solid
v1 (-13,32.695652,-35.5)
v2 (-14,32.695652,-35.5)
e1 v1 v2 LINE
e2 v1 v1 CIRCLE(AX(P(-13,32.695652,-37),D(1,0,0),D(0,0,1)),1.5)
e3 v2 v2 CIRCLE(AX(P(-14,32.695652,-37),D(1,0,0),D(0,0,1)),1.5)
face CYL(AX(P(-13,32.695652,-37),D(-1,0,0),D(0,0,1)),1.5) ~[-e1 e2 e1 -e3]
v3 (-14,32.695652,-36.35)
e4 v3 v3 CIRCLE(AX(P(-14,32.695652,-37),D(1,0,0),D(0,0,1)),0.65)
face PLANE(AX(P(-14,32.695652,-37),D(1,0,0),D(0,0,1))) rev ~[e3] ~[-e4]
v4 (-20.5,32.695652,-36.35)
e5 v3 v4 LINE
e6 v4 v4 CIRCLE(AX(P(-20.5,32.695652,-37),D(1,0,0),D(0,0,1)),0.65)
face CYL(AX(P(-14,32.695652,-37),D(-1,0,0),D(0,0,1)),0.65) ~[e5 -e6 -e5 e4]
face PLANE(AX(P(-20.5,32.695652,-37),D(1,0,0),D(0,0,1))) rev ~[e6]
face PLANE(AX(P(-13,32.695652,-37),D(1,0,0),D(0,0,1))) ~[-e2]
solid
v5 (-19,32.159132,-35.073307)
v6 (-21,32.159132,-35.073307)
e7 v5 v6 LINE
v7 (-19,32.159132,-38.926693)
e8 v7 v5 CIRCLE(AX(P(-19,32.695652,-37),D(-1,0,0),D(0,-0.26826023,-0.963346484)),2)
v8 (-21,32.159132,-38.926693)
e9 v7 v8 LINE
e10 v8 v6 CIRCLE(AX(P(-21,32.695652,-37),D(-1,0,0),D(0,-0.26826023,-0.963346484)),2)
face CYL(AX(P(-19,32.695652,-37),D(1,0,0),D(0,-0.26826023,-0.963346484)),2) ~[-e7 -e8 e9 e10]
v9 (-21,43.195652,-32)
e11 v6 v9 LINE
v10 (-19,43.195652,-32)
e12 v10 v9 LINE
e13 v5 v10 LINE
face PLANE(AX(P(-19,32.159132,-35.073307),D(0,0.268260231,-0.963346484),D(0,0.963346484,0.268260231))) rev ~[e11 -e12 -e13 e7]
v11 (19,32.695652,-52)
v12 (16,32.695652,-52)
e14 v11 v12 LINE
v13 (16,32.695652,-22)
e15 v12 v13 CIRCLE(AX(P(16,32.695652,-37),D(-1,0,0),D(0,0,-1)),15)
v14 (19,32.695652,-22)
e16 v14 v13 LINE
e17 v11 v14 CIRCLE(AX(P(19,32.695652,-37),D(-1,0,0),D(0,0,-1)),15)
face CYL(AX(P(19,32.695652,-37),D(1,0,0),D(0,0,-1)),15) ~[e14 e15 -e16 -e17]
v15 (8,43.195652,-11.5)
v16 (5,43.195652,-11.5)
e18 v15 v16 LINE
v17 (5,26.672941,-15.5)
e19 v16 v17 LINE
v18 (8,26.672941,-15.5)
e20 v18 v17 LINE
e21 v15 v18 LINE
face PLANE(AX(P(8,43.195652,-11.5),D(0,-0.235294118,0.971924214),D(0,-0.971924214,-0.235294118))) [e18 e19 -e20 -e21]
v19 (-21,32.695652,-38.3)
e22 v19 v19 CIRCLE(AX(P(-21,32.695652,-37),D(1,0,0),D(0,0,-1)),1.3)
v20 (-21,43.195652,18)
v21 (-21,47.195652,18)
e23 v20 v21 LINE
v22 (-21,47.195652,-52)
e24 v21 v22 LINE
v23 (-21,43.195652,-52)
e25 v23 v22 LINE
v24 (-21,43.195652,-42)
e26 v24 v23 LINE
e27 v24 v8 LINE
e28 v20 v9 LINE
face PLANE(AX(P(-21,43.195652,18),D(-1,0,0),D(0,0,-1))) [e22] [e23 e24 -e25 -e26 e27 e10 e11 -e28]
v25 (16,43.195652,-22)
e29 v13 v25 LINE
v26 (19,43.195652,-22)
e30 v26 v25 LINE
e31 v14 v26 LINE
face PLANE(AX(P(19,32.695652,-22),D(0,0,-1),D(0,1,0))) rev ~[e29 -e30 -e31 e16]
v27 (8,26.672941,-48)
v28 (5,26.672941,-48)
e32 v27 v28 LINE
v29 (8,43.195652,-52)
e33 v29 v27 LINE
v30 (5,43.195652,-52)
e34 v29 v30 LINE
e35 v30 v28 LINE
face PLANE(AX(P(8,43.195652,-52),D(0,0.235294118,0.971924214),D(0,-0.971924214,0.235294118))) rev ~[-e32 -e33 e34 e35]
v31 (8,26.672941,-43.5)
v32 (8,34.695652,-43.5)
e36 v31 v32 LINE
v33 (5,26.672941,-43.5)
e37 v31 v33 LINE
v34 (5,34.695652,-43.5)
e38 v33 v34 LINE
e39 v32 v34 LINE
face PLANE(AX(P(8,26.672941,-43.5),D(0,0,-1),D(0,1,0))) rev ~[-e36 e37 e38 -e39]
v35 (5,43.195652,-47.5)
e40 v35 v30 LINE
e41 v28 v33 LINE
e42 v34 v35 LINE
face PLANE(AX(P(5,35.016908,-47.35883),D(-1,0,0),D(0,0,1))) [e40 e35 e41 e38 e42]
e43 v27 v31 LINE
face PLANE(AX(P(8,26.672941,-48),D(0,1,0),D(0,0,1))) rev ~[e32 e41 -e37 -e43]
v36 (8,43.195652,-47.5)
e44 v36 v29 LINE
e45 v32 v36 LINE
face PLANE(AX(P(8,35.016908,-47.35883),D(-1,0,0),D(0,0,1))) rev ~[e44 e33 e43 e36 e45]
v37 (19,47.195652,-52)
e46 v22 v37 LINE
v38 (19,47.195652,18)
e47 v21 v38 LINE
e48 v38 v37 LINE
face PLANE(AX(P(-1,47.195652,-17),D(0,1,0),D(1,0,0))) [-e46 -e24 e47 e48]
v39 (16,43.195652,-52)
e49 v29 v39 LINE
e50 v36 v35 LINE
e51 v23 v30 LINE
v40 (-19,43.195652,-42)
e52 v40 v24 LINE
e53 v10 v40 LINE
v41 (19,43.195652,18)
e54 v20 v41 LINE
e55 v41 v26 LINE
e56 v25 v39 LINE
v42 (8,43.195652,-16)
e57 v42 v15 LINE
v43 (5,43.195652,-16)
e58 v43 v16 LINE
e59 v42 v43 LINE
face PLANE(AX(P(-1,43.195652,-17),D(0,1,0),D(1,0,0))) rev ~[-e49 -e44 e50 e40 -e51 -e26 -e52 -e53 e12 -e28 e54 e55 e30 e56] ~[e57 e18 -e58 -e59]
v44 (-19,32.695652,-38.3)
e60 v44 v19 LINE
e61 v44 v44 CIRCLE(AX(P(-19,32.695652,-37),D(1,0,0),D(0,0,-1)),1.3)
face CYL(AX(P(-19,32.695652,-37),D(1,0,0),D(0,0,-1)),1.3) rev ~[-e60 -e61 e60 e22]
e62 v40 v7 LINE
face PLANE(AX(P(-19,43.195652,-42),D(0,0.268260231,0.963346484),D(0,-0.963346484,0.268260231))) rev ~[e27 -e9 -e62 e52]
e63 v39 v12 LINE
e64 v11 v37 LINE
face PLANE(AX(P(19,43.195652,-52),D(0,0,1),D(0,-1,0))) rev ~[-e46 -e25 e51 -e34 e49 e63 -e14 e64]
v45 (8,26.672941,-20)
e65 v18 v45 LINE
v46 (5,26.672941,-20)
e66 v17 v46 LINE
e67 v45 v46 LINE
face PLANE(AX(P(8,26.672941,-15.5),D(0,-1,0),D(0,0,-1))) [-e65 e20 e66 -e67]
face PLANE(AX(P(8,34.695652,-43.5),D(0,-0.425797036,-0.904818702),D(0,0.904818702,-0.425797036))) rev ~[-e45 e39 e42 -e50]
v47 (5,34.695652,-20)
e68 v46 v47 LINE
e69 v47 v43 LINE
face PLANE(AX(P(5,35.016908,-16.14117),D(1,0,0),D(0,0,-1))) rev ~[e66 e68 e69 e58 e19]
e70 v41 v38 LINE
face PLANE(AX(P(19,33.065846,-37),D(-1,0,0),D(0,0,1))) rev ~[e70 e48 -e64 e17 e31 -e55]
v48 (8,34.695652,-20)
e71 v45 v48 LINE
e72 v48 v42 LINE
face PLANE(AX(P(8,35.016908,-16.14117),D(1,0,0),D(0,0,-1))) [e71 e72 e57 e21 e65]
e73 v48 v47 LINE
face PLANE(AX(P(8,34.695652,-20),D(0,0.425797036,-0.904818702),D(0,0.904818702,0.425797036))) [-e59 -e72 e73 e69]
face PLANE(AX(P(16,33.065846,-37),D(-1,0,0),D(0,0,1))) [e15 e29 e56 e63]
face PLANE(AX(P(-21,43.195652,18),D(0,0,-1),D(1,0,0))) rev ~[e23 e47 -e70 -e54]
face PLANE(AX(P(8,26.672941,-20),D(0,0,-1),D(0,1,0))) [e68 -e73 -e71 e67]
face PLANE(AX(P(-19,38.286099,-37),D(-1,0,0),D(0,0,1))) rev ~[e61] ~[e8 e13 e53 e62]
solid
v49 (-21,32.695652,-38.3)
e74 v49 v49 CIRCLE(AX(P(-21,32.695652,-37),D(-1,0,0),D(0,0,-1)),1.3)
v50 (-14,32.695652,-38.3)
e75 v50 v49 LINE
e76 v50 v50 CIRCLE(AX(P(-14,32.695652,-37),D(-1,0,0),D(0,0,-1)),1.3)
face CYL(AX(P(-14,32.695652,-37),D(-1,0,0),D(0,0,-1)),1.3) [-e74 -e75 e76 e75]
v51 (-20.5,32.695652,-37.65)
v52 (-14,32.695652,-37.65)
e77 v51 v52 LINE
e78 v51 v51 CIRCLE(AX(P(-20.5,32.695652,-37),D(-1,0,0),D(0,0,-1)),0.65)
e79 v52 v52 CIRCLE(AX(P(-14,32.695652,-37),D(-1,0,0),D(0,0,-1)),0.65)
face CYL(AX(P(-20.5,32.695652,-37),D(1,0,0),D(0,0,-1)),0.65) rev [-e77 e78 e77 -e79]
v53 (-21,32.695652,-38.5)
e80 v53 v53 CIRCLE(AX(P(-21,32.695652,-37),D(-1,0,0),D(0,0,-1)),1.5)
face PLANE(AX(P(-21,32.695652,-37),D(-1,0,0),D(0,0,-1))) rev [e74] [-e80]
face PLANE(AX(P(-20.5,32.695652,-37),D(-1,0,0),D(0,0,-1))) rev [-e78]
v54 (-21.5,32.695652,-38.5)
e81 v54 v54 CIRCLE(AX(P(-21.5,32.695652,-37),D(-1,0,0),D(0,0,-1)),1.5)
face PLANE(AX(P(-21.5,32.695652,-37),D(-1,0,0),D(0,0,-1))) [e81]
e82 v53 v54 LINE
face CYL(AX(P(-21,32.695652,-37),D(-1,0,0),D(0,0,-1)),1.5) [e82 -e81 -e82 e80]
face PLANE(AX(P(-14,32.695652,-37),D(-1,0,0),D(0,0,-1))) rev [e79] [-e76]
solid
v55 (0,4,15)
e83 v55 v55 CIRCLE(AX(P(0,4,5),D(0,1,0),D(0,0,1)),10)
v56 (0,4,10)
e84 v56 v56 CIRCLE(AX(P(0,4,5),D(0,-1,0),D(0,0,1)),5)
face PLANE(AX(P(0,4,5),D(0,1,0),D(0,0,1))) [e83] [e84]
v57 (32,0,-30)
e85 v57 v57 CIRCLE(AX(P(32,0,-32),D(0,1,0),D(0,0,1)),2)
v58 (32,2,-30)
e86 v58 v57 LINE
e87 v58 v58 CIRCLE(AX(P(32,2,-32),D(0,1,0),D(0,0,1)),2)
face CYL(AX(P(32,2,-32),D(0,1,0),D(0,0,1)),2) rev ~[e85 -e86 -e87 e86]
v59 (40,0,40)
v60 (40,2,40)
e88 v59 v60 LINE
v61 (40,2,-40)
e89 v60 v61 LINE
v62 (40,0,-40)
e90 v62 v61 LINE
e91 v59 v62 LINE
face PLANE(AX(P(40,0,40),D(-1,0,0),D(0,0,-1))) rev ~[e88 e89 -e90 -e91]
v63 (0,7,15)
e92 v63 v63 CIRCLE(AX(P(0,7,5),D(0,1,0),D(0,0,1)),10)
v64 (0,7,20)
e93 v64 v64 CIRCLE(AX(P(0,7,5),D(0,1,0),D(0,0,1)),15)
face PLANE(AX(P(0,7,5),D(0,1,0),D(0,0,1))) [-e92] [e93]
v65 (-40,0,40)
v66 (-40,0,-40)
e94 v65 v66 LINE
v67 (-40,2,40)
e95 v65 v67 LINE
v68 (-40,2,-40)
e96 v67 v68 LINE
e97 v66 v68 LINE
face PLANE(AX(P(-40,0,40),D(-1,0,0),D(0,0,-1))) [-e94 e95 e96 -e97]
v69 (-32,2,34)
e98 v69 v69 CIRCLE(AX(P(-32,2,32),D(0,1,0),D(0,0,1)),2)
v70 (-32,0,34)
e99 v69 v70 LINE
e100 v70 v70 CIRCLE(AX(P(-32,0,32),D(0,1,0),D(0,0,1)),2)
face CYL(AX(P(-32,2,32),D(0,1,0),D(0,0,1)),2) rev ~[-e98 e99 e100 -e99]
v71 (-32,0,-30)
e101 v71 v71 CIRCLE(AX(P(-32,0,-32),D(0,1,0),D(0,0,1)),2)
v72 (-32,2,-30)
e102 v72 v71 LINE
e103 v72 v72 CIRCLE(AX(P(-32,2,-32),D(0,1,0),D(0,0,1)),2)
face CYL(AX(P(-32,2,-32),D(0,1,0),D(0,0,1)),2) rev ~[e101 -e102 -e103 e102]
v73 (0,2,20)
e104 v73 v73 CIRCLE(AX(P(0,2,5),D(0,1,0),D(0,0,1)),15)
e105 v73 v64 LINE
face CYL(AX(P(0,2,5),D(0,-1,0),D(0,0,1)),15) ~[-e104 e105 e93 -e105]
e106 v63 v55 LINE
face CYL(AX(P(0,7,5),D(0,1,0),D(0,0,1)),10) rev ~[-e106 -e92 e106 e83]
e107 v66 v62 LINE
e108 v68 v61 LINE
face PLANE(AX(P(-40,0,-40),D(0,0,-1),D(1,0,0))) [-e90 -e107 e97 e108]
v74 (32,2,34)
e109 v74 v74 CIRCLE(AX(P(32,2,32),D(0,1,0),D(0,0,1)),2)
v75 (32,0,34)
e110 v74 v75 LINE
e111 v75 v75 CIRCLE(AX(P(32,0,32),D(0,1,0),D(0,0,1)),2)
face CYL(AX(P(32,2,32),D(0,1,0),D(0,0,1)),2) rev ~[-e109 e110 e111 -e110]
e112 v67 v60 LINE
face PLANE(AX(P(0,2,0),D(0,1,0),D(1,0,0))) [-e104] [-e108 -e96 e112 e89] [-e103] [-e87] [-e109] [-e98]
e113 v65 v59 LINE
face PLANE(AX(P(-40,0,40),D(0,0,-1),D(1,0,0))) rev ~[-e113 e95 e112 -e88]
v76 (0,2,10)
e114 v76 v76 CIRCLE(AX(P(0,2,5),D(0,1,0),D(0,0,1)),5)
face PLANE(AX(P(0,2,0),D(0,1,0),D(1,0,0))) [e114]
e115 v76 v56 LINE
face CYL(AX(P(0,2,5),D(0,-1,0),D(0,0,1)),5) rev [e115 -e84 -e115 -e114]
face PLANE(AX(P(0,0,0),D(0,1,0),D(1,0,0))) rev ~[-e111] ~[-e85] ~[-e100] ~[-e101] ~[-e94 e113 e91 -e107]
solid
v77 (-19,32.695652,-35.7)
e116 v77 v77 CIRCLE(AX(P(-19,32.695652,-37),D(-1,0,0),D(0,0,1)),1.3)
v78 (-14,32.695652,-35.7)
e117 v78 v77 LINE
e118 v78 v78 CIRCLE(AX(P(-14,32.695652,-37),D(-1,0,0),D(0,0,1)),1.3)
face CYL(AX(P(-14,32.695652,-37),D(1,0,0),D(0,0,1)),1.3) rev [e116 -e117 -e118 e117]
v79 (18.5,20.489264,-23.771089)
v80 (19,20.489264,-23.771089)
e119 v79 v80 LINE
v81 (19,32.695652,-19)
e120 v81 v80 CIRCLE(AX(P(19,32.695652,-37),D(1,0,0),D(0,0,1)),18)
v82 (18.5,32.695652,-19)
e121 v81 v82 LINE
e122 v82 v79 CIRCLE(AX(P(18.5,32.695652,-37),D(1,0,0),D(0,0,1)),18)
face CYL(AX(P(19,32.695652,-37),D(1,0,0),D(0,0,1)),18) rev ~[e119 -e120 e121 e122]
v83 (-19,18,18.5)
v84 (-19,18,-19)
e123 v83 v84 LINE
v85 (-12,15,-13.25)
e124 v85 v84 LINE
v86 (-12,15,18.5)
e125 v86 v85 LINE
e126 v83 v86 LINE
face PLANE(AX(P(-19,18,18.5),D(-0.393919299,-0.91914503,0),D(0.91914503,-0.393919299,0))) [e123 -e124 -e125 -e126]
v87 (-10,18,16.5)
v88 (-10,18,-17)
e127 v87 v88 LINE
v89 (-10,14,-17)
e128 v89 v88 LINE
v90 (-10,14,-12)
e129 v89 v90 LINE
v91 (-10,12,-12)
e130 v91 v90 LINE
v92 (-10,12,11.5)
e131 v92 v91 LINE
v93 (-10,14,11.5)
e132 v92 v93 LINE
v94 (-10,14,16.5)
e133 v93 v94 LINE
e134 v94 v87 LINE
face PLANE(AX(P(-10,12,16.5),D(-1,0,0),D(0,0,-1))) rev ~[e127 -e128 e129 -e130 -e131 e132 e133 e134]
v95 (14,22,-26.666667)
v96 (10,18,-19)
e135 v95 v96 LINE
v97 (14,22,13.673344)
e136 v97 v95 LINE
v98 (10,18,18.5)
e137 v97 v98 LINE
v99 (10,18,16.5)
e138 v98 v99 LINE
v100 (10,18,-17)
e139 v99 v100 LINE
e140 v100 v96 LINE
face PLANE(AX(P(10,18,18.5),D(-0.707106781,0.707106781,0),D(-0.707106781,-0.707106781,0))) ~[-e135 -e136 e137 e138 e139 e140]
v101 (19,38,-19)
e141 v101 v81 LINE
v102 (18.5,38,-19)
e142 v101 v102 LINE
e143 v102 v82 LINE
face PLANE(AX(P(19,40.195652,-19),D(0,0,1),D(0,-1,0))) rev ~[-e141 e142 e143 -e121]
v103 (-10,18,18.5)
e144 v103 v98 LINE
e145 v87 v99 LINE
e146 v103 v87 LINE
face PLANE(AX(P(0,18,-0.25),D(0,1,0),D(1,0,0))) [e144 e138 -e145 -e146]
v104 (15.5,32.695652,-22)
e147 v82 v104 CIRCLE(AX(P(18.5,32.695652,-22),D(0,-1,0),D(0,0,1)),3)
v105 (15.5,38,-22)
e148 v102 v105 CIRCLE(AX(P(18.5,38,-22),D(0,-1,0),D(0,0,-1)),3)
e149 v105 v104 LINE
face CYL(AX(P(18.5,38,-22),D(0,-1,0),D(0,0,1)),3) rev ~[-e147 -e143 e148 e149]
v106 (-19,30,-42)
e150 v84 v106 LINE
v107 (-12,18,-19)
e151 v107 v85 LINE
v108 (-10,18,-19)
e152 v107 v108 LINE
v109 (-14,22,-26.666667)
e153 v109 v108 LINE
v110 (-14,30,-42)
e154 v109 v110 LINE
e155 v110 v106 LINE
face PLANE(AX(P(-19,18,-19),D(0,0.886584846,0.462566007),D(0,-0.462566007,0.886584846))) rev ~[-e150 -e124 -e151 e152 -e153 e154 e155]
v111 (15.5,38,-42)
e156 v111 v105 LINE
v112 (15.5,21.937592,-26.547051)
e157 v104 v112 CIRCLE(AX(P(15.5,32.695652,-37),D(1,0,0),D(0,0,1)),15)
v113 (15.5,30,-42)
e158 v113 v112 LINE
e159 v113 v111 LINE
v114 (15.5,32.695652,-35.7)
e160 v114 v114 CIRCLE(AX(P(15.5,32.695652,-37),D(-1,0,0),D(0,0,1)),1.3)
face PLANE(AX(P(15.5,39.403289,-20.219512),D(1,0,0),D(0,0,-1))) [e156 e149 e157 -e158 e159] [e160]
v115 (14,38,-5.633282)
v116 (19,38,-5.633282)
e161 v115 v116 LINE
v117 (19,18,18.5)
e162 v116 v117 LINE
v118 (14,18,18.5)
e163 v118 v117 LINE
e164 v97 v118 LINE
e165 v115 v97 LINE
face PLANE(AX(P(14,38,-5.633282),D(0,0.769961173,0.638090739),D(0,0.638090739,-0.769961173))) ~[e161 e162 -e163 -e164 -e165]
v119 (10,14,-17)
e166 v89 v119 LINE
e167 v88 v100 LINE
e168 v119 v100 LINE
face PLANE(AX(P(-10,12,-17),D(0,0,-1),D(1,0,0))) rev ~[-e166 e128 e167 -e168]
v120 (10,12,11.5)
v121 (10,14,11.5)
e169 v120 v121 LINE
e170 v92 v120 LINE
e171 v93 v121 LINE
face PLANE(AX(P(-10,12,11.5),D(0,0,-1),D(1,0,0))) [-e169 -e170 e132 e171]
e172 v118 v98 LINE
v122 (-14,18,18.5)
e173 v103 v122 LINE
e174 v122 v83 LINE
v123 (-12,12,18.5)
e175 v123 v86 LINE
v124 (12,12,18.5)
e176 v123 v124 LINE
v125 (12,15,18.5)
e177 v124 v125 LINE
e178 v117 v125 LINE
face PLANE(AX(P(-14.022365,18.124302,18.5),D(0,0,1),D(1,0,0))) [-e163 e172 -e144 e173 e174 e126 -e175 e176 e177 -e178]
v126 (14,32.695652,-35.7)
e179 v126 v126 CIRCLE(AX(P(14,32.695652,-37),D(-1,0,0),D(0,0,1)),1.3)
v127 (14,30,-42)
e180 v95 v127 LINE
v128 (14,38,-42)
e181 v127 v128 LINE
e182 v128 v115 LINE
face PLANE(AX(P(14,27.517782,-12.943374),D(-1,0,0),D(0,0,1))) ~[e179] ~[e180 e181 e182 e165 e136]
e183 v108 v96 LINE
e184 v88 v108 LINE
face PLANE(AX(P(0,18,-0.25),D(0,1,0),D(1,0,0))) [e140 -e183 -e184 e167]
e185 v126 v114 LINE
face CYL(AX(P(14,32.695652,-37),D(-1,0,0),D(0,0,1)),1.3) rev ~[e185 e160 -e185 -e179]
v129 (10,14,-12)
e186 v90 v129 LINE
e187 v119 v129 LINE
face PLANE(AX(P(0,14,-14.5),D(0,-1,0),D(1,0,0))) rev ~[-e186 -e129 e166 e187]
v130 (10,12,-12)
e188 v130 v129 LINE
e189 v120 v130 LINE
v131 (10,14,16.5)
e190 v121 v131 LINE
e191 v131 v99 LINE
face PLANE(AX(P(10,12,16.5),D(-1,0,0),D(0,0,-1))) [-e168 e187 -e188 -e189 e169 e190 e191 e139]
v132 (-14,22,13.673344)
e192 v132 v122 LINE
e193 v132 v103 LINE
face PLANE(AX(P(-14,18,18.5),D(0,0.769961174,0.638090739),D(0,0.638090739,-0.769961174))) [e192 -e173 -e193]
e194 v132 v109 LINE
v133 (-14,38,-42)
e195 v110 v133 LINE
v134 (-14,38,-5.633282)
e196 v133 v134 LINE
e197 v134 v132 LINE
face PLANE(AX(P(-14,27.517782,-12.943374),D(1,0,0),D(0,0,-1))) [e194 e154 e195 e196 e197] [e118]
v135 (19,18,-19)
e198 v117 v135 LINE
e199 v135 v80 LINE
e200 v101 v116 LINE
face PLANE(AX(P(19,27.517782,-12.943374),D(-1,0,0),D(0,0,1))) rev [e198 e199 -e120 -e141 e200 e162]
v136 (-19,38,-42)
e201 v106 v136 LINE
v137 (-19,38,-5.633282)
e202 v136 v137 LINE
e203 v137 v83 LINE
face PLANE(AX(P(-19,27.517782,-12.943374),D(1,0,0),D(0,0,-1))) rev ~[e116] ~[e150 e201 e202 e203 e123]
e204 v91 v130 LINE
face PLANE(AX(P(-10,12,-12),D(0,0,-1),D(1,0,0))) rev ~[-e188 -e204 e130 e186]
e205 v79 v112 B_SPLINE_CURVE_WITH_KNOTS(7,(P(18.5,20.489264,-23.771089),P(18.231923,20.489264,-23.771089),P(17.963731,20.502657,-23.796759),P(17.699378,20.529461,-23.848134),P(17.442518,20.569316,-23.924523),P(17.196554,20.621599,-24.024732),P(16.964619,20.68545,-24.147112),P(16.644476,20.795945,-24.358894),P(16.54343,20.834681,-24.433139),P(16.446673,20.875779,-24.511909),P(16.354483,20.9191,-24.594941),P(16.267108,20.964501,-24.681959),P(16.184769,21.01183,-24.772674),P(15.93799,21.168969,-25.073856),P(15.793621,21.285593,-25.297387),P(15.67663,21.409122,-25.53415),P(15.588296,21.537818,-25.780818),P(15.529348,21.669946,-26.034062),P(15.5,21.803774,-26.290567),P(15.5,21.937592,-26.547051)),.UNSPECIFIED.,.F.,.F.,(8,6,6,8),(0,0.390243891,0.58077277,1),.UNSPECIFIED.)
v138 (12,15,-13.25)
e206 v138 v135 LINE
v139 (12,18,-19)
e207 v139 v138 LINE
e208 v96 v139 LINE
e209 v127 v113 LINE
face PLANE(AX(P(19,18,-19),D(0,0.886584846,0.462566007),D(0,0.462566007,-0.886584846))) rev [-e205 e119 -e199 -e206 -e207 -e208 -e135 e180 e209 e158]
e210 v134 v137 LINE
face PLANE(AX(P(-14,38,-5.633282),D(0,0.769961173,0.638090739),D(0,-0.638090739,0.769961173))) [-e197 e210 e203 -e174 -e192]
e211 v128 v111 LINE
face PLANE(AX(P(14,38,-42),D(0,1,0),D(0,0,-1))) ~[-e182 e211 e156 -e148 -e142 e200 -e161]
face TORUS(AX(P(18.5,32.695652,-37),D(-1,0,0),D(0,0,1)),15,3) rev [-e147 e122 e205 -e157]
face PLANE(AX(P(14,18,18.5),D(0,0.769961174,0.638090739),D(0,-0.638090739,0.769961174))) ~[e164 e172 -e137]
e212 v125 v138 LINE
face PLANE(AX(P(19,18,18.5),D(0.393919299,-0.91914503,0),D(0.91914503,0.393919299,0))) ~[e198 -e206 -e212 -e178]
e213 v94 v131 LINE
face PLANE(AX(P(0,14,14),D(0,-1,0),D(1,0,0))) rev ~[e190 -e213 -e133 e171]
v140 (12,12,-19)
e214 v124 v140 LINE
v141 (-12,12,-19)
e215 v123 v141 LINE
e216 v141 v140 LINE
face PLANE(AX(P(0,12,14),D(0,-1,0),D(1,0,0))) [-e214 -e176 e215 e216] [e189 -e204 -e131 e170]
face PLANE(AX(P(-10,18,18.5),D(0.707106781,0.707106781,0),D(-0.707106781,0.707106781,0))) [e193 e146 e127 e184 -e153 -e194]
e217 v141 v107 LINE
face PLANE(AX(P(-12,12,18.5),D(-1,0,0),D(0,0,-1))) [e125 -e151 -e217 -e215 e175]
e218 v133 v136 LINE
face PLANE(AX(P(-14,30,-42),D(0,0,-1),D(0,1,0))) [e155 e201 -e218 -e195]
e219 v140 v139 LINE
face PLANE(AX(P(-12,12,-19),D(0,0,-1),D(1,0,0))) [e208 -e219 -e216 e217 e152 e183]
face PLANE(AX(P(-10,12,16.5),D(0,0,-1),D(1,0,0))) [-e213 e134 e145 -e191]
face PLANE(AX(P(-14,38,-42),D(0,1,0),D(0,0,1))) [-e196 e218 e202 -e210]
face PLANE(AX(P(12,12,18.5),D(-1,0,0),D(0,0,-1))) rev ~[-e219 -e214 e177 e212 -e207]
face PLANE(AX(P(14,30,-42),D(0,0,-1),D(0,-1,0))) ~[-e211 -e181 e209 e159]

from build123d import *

# Parameters (mm, degrees)
SKETCH1_W            = 80
SKETCH1_H            = 80
BOSS_EXTRUDE1_DEPTH  = 2
SKETCH2_R            = 15
SKETCH2_R_2          = 5
BOSS_EXTRUDE2_DEPTH  = 5
SKETCH13_R           = 10
CUT_EXTRUDE1_DEPTH   = 3
BOSS_EXTRUDE3_START  = 10
SKETCH4_W            = 24
SKETCH4_H            = 37.5
SKETCH4_W_2          = 20
SKETCH4_H_2          = 33.5
BOSS_EXTRUDE3_DEPTH  = 6
BOSS_EXTRUDE4_START  = 2
SKETCH5_R            = 1.3
BOSS_EXTRUDE4_DEPTH  = 5
BOSS_EXTRUDE5_REACH  = 83.879
SKETCH10_W           = 20
SKETCH10_H           = 5
BOSS_EXTRUDE8_DEPTH  = 2
CUT_EXTRUDE3_DEPTH   = 10
SKETCH9_R            = 1.3
BOSS_EXTRUDE7_DEPTH  = 2
SKETCH14_R           = 2
CUT_EXTRUDE2_DEPTH   = 2
BOSS_EXTRUDE11_START = 33
SKETCH9_3_R          = 1.3
BOSS_EXTRUDE11_DEPTH = 2
BOSS_EXTRUDE6_START  = 5.195652
SKETCH7_W            = 40
SKETCH7_H            = 70
BOSS_EXTRUDE6_DEPTH  = 4
BOSS_EXTRUDE12_START = 22
BOSS_EXTRUDE12_DEPTH = 3
BOSS_EXTRUDE13_DEPTH = 3
CUT_EXTRUDE4_DEPTH   = 3.5
FILLET1_R            = 3


with BuildPart() as part:
    # Sketch1 → Boss-Extrude1 (new body)
    with BuildSketch(Plane(origin=(0, 0, 0), x_dir=(1, 0, 0), z_dir=(0, 1, 0))):
        Rectangle(SKETCH1_W, SKETCH1_H)
    extrude(amount=BOSS_EXTRUDE1_DEPTH)

    # Sketch2 → Boss-Extrude2 (add)
    with BuildSketch(Plane(origin=(0, 2, 0), x_dir=(1, 0, 0), z_dir=(0, 1, 0))):
        with Locations(Location((0, -5, 0), (0, 0, 270))):
            Circle(SKETCH2_R)
        with Locations(Location((0, -5, 0), (0, 0, 270))):
            Circle(SKETCH2_R_2, mode=Mode.SUBTRACT)
    extrude(amount=BOSS_EXTRUDE2_DEPTH)

    # Sketch13 → Cut-Extrude1 (cut)
    with BuildSketch(Plane(origin=(0, 7, 0), x_dir=(1, 0, 0), z_dir=(0, 1, 0))):
        with Locations(Location((0, -5, 0), (0, 0, 270))):
            Circle(SKETCH13_R)
    extrude(amount=-CUT_EXTRUDE1_DEPTH, mode=Mode.SUBTRACT)

    # Sketch14 → Cut-Extrude2 (cut)
    with BuildSketch(Plane(origin=(0, 2, 0), x_dir=(1, 0, 0), z_dir=(0, 1, 0))):
        with Locations(Location((-32, 32, 0), (0, 0, 270))):
            Circle(SKETCH14_R)
        with Locations(Location((32, 32, 0), (0, 0, 270))):
            Circle(SKETCH14_R)
        with Locations(Location((32, -32, 0), (0, 0, 270))):
            Circle(SKETCH14_R)
        with Locations(Location((-32, -32, 0), (0, 0, 270))):
            Circle(SKETCH14_R)
    extrude(amount=-CUT_EXTRUDE2_DEPTH, mode=Mode.SUBTRACT)


with BuildPart() as body_2:
    # Sketch4 → Boss-Extrude3 (new body)
    with BuildSketch(Plane(origin=(0, 2, 0), x_dir=(1, 0, 0), z_dir=(0, 1, 0)).offset(BOSS_EXTRUDE3_START)):
        with Locations((0, 0.25)):
            Rectangle(SKETCH4_W, SKETCH4_H)
        with Locations((0, 0.25)):
            Rectangle(SKETCH4_W_2, SKETCH4_H_2, mode=Mode.SUBTRACT)
    extrude(amount=BOSS_EXTRUDE3_DEPTH)



with BuildPart() as body_3:
    # Sketch5 → Boss-Extrude4 (new body)
    with BuildSketch(Plane.ZY.offset(12).offset(BOSS_EXTRUDE4_START)):
        Polygon((-42, 38), (-5.633281563, 38), (18.5, 18), (-19, 18), (-42, 30), align=None)
        with Locations((-37, 32.695652174)):
            Circle(SKETCH5_R, mode=Mode.SUBTRACT)
    extrude(amount=BOSS_EXTRUDE4_DEPTH)


with BuildPart() as body_2_1:
    add(body_2.part)

    add(body_3.part)  # Boss-Extrude5 merges body 3
    # Boss-Extrude5: up to this plane
    boss_extrude5_end = Plane(origin=(-19, 18, -19), z_dir=(0, 0.8865848461654549, 0.4625660066950196))
    # Sketch6 → Boss-Extrude5 (add, up to the surface)
    with BuildSketch(Plane.XY.offset(18.5), mode=Mode.PRIVATE) as boss_extrude5_sk1:
        Polygon((-19, 18), (-12, 15), (-12, 18), (-10, 18), (-14, 22), (-14, 18), align=None)
    boss_extrude5_tool1 = split(extrude(boss_extrude5_sk1.sketch, amount=-BOSS_EXTRUDE5_REACH, mode=Mode.PRIVATE), bisect_by=boss_extrude5_end, keep=Keep.BOTH, mode=Mode.PRIVATE)
    add(boss_extrude5_tool1.solids().sort_by_distance((-13.612613, 18.009009, 18.5))[0])

    # Sketch10 → Boss-Extrude8 (add)
    with BuildSketch(Plane.XZ.offset(-12)):
        with Locations((0, 14)):
            Rectangle(SKETCH10_W, SKETCH10_H)
        with Locations((0, -14.5)):
            Rectangle(SKETCH10_W, SKETCH10_H)
    extrude(amount=-BOSS_EXTRUDE8_DEPTH)

    # Sketch20 → Cut-Extrude3 (cut)
    with BuildSketch(Plane.ZY.offset(14)):
        Polygon((18.5, 18), (13.673343687, 22), (18.5, 22), align=None)
    extrude(amount=-CUT_EXTRUDE3_DEPTH, mode=Mode.SUBTRACT)

    # Mirror2: body 2 across plane


with BuildPart() as body_2_2:
    add(body_2_1.part)
    add(body_2_1.part.mirror(Plane(origin=(0, 0, 0), x_dir=(0, 0, 1), z_dir=(1, 0, 0))))

    # Sketch26 → Cut-Extrude4 (cut)
    with BuildSketch(Plane(origin=(19, 0, 0), x_dir=(0, 0, -1), z_dir=(1, 0, 0))):
        with BuildLine():
            Line((-21, 40.195652174), (19, 40.195652174))
            Line((19, 40.195652174), (19, 32.695652174))
            ThreePointArc((19, 32.695652174), (37, 14.695652174), (55, 32.695652174))
            Line((55, 32.695652174), (55, 50.195652174))
            Line((55, 50.195652174), (-21, 50.195652174))
            Line((-21, 50.195652174), (-21, 40.195652174))
        make_face()
    extrude(amount=-CUT_EXTRUDE4_DEPTH, mode=Mode.SUBTRACT)

    # Fillet1
    fillet1_edges = [body_2_2.edges().sort_by_distance(p)[0] for p in [
        (15.5, 26.14280534, -20.235149915),
        (15.5, 35.347826087, -19),
    ]]
    fillet(fillet1_edges, radius=FILLET1_R)


with BuildPart() as body_3_2:
    # Sketch9 → Boss-Extrude7 (new body)
    with BuildSketch(Plane(origin=(-19, 0, 0), x_dir=(0, 0, -1), z_dir=(1, 0, 0))):
        with BuildLine():
            Line((42, 43.195652174), (38.926692968, 32.159131713))
            ThreePointArc((38.926692968, 32.159131713), (37, 30.695652174), (35.073307032, 32.159131713))
            Line((35.073307032, 32.159131713), (32, 43.195652174))
            Line((32, 43.195652174), (42, 43.195652174))
        make_face()
        with Locations((37, 32.695652174)):
            Circle(SKETCH9_R, mode=Mode.SUBTRACT)
    extrude(amount=-BOSS_EXTRUDE7_DEPTH)

    # Sketch7 → Boss-Extrude6 (add)
    with BuildSketch(Plane(origin=(0, 38, 0), x_dir=(1, 0, 0), z_dir=(0, 1, 0)).offset(BOSS_EXTRUDE6_START)):
        with Locations((-1, 17)):
            Rectangle(SKETCH7_W, SKETCH7_H)
    extrude(amount=BOSS_EXTRUDE6_DEPTH)

    # Sketch12 → Boss-Extrude12 (add)
    with BuildSketch(Plane(origin=(-14, 0, 0), x_dir=(0, 0, -1), z_dir=(1, 0, 0)).offset(BOSS_EXTRUDE12_START)):
        Polygon((15.5, 26.672940532), (20, 26.672940532), (20, 34.695652174), (16, 43.195652174), (11.5, 43.195652174), align=None)
        Polygon((48, 26.672940532), (43.5, 26.672940532), (43.5, 34.695652174), (47.5, 43.195652174), (52, 43.195652174), align=None)
    extrude(amount=-BOSS_EXTRUDE12_DEPTH)

    # Sketch25 → Boss-Extrude13 (add)
    with BuildSketch(Plane(origin=(19, 0, 0), x_dir=(0, 0, -1), z_dir=(1, 0, 0))):
        with BuildLine():
            Line((22, 32.695652174), (22, 43.195652174))
            Line((22, 43.195652174), (52, 43.195652174))
            Line((52, 43.195652174), (52, 32.695652174))
            ThreePointArc((52, 32.695652174), (37, 17.695652174), (22, 32.695652174))
        make_face()
    extrude(amount=-BOSS_EXTRUDE13_DEPTH)


with BuildPart() as body_4:
    # Sketch9<3> → Boss-Extrude11 (new body)
    with BuildSketch(Plane(origin=(-19, 0, 0), x_dir=(0, 0, -1), z_dir=(1, 0, 0)).offset(BOSS_EXTRUDE11_START)):
        with BuildLine():
            Line((42, 43.195652174), (38.926692968, 32.159131713))
            ThreePointArc((38.926692968, 32.159131713), (37, 30.695652174), (35.073307032, 32.159131713))
            Line((35.073307032, 32.159131713), (32, 43.195652174))
            Line((32, 43.195652174), (42, 43.195652174))
        make_face()
        with Locations((37, 32.695652174)):
            Circle(SKETCH9_3_R, mode=Mode.SUBTRACT)
    extrude(amount=BOSS_EXTRUDE11_DEPTH)


with BuildPart() as body_5:
    # Sketch19 → Revolve1 (revolve)
    with BuildSketch(Plane(origin=(0, 39.904576281, -11.112108685), x_dir=(1, 0, 0), z_dir=(0, 0.9633464842335737, -0.268260230587415)), mode=Mode.PRIVATE) as revolve1_sk:
        Polygon((-21, 25.572876725), (-21, 25.372876725), (-21.5, 25.372876725), (-21.5, 26.872876725), (-21, 26.872876725), (-20.5, 26.872876725), (-20.5, 26.222876725), (-14, 26.222876725), (-14, 25.572876725), align=None)
    revolve(revolve1_sk.sketch.rotate(Axis((-14, 32.695652174, -37), (-1, 0, 0)), 164.439233372), axis=Axis((-14, 32.695652174, -37), (-1, 0, 0)))


with BuildPart() as body_6:
    # Sketch23 → Revolve2 (revolve)
    with BuildSketch(Plane(origin=(0, 39.904576281, -11.112108685), x_dir=(1, 0, 0), z_dir=(0, 0.9633464842335737, -0.268260230587415)), mode=Mode.PRIVATE) as revolve2_sk:
        Polygon((-20.5, 26.872876725), (-14, 26.872876725), (-13, 26.872876725), (-13, 28.372876725), (-14, 28.372876725), (-14, 27.522876725), (-20.5, 27.522876725), align=None)
    revolve(revolve2_sk.sketch.rotate(Axis((-20.5, 32.695652174, -37), (1, 0, 0)), 195.560766628), axis=Axis((-20.5, 32.695652174, -37), (1, 0, 0)))


solid = Compound([part.part, body_2_2.part, body_3_2.part, body_5.part, body_6.part])
